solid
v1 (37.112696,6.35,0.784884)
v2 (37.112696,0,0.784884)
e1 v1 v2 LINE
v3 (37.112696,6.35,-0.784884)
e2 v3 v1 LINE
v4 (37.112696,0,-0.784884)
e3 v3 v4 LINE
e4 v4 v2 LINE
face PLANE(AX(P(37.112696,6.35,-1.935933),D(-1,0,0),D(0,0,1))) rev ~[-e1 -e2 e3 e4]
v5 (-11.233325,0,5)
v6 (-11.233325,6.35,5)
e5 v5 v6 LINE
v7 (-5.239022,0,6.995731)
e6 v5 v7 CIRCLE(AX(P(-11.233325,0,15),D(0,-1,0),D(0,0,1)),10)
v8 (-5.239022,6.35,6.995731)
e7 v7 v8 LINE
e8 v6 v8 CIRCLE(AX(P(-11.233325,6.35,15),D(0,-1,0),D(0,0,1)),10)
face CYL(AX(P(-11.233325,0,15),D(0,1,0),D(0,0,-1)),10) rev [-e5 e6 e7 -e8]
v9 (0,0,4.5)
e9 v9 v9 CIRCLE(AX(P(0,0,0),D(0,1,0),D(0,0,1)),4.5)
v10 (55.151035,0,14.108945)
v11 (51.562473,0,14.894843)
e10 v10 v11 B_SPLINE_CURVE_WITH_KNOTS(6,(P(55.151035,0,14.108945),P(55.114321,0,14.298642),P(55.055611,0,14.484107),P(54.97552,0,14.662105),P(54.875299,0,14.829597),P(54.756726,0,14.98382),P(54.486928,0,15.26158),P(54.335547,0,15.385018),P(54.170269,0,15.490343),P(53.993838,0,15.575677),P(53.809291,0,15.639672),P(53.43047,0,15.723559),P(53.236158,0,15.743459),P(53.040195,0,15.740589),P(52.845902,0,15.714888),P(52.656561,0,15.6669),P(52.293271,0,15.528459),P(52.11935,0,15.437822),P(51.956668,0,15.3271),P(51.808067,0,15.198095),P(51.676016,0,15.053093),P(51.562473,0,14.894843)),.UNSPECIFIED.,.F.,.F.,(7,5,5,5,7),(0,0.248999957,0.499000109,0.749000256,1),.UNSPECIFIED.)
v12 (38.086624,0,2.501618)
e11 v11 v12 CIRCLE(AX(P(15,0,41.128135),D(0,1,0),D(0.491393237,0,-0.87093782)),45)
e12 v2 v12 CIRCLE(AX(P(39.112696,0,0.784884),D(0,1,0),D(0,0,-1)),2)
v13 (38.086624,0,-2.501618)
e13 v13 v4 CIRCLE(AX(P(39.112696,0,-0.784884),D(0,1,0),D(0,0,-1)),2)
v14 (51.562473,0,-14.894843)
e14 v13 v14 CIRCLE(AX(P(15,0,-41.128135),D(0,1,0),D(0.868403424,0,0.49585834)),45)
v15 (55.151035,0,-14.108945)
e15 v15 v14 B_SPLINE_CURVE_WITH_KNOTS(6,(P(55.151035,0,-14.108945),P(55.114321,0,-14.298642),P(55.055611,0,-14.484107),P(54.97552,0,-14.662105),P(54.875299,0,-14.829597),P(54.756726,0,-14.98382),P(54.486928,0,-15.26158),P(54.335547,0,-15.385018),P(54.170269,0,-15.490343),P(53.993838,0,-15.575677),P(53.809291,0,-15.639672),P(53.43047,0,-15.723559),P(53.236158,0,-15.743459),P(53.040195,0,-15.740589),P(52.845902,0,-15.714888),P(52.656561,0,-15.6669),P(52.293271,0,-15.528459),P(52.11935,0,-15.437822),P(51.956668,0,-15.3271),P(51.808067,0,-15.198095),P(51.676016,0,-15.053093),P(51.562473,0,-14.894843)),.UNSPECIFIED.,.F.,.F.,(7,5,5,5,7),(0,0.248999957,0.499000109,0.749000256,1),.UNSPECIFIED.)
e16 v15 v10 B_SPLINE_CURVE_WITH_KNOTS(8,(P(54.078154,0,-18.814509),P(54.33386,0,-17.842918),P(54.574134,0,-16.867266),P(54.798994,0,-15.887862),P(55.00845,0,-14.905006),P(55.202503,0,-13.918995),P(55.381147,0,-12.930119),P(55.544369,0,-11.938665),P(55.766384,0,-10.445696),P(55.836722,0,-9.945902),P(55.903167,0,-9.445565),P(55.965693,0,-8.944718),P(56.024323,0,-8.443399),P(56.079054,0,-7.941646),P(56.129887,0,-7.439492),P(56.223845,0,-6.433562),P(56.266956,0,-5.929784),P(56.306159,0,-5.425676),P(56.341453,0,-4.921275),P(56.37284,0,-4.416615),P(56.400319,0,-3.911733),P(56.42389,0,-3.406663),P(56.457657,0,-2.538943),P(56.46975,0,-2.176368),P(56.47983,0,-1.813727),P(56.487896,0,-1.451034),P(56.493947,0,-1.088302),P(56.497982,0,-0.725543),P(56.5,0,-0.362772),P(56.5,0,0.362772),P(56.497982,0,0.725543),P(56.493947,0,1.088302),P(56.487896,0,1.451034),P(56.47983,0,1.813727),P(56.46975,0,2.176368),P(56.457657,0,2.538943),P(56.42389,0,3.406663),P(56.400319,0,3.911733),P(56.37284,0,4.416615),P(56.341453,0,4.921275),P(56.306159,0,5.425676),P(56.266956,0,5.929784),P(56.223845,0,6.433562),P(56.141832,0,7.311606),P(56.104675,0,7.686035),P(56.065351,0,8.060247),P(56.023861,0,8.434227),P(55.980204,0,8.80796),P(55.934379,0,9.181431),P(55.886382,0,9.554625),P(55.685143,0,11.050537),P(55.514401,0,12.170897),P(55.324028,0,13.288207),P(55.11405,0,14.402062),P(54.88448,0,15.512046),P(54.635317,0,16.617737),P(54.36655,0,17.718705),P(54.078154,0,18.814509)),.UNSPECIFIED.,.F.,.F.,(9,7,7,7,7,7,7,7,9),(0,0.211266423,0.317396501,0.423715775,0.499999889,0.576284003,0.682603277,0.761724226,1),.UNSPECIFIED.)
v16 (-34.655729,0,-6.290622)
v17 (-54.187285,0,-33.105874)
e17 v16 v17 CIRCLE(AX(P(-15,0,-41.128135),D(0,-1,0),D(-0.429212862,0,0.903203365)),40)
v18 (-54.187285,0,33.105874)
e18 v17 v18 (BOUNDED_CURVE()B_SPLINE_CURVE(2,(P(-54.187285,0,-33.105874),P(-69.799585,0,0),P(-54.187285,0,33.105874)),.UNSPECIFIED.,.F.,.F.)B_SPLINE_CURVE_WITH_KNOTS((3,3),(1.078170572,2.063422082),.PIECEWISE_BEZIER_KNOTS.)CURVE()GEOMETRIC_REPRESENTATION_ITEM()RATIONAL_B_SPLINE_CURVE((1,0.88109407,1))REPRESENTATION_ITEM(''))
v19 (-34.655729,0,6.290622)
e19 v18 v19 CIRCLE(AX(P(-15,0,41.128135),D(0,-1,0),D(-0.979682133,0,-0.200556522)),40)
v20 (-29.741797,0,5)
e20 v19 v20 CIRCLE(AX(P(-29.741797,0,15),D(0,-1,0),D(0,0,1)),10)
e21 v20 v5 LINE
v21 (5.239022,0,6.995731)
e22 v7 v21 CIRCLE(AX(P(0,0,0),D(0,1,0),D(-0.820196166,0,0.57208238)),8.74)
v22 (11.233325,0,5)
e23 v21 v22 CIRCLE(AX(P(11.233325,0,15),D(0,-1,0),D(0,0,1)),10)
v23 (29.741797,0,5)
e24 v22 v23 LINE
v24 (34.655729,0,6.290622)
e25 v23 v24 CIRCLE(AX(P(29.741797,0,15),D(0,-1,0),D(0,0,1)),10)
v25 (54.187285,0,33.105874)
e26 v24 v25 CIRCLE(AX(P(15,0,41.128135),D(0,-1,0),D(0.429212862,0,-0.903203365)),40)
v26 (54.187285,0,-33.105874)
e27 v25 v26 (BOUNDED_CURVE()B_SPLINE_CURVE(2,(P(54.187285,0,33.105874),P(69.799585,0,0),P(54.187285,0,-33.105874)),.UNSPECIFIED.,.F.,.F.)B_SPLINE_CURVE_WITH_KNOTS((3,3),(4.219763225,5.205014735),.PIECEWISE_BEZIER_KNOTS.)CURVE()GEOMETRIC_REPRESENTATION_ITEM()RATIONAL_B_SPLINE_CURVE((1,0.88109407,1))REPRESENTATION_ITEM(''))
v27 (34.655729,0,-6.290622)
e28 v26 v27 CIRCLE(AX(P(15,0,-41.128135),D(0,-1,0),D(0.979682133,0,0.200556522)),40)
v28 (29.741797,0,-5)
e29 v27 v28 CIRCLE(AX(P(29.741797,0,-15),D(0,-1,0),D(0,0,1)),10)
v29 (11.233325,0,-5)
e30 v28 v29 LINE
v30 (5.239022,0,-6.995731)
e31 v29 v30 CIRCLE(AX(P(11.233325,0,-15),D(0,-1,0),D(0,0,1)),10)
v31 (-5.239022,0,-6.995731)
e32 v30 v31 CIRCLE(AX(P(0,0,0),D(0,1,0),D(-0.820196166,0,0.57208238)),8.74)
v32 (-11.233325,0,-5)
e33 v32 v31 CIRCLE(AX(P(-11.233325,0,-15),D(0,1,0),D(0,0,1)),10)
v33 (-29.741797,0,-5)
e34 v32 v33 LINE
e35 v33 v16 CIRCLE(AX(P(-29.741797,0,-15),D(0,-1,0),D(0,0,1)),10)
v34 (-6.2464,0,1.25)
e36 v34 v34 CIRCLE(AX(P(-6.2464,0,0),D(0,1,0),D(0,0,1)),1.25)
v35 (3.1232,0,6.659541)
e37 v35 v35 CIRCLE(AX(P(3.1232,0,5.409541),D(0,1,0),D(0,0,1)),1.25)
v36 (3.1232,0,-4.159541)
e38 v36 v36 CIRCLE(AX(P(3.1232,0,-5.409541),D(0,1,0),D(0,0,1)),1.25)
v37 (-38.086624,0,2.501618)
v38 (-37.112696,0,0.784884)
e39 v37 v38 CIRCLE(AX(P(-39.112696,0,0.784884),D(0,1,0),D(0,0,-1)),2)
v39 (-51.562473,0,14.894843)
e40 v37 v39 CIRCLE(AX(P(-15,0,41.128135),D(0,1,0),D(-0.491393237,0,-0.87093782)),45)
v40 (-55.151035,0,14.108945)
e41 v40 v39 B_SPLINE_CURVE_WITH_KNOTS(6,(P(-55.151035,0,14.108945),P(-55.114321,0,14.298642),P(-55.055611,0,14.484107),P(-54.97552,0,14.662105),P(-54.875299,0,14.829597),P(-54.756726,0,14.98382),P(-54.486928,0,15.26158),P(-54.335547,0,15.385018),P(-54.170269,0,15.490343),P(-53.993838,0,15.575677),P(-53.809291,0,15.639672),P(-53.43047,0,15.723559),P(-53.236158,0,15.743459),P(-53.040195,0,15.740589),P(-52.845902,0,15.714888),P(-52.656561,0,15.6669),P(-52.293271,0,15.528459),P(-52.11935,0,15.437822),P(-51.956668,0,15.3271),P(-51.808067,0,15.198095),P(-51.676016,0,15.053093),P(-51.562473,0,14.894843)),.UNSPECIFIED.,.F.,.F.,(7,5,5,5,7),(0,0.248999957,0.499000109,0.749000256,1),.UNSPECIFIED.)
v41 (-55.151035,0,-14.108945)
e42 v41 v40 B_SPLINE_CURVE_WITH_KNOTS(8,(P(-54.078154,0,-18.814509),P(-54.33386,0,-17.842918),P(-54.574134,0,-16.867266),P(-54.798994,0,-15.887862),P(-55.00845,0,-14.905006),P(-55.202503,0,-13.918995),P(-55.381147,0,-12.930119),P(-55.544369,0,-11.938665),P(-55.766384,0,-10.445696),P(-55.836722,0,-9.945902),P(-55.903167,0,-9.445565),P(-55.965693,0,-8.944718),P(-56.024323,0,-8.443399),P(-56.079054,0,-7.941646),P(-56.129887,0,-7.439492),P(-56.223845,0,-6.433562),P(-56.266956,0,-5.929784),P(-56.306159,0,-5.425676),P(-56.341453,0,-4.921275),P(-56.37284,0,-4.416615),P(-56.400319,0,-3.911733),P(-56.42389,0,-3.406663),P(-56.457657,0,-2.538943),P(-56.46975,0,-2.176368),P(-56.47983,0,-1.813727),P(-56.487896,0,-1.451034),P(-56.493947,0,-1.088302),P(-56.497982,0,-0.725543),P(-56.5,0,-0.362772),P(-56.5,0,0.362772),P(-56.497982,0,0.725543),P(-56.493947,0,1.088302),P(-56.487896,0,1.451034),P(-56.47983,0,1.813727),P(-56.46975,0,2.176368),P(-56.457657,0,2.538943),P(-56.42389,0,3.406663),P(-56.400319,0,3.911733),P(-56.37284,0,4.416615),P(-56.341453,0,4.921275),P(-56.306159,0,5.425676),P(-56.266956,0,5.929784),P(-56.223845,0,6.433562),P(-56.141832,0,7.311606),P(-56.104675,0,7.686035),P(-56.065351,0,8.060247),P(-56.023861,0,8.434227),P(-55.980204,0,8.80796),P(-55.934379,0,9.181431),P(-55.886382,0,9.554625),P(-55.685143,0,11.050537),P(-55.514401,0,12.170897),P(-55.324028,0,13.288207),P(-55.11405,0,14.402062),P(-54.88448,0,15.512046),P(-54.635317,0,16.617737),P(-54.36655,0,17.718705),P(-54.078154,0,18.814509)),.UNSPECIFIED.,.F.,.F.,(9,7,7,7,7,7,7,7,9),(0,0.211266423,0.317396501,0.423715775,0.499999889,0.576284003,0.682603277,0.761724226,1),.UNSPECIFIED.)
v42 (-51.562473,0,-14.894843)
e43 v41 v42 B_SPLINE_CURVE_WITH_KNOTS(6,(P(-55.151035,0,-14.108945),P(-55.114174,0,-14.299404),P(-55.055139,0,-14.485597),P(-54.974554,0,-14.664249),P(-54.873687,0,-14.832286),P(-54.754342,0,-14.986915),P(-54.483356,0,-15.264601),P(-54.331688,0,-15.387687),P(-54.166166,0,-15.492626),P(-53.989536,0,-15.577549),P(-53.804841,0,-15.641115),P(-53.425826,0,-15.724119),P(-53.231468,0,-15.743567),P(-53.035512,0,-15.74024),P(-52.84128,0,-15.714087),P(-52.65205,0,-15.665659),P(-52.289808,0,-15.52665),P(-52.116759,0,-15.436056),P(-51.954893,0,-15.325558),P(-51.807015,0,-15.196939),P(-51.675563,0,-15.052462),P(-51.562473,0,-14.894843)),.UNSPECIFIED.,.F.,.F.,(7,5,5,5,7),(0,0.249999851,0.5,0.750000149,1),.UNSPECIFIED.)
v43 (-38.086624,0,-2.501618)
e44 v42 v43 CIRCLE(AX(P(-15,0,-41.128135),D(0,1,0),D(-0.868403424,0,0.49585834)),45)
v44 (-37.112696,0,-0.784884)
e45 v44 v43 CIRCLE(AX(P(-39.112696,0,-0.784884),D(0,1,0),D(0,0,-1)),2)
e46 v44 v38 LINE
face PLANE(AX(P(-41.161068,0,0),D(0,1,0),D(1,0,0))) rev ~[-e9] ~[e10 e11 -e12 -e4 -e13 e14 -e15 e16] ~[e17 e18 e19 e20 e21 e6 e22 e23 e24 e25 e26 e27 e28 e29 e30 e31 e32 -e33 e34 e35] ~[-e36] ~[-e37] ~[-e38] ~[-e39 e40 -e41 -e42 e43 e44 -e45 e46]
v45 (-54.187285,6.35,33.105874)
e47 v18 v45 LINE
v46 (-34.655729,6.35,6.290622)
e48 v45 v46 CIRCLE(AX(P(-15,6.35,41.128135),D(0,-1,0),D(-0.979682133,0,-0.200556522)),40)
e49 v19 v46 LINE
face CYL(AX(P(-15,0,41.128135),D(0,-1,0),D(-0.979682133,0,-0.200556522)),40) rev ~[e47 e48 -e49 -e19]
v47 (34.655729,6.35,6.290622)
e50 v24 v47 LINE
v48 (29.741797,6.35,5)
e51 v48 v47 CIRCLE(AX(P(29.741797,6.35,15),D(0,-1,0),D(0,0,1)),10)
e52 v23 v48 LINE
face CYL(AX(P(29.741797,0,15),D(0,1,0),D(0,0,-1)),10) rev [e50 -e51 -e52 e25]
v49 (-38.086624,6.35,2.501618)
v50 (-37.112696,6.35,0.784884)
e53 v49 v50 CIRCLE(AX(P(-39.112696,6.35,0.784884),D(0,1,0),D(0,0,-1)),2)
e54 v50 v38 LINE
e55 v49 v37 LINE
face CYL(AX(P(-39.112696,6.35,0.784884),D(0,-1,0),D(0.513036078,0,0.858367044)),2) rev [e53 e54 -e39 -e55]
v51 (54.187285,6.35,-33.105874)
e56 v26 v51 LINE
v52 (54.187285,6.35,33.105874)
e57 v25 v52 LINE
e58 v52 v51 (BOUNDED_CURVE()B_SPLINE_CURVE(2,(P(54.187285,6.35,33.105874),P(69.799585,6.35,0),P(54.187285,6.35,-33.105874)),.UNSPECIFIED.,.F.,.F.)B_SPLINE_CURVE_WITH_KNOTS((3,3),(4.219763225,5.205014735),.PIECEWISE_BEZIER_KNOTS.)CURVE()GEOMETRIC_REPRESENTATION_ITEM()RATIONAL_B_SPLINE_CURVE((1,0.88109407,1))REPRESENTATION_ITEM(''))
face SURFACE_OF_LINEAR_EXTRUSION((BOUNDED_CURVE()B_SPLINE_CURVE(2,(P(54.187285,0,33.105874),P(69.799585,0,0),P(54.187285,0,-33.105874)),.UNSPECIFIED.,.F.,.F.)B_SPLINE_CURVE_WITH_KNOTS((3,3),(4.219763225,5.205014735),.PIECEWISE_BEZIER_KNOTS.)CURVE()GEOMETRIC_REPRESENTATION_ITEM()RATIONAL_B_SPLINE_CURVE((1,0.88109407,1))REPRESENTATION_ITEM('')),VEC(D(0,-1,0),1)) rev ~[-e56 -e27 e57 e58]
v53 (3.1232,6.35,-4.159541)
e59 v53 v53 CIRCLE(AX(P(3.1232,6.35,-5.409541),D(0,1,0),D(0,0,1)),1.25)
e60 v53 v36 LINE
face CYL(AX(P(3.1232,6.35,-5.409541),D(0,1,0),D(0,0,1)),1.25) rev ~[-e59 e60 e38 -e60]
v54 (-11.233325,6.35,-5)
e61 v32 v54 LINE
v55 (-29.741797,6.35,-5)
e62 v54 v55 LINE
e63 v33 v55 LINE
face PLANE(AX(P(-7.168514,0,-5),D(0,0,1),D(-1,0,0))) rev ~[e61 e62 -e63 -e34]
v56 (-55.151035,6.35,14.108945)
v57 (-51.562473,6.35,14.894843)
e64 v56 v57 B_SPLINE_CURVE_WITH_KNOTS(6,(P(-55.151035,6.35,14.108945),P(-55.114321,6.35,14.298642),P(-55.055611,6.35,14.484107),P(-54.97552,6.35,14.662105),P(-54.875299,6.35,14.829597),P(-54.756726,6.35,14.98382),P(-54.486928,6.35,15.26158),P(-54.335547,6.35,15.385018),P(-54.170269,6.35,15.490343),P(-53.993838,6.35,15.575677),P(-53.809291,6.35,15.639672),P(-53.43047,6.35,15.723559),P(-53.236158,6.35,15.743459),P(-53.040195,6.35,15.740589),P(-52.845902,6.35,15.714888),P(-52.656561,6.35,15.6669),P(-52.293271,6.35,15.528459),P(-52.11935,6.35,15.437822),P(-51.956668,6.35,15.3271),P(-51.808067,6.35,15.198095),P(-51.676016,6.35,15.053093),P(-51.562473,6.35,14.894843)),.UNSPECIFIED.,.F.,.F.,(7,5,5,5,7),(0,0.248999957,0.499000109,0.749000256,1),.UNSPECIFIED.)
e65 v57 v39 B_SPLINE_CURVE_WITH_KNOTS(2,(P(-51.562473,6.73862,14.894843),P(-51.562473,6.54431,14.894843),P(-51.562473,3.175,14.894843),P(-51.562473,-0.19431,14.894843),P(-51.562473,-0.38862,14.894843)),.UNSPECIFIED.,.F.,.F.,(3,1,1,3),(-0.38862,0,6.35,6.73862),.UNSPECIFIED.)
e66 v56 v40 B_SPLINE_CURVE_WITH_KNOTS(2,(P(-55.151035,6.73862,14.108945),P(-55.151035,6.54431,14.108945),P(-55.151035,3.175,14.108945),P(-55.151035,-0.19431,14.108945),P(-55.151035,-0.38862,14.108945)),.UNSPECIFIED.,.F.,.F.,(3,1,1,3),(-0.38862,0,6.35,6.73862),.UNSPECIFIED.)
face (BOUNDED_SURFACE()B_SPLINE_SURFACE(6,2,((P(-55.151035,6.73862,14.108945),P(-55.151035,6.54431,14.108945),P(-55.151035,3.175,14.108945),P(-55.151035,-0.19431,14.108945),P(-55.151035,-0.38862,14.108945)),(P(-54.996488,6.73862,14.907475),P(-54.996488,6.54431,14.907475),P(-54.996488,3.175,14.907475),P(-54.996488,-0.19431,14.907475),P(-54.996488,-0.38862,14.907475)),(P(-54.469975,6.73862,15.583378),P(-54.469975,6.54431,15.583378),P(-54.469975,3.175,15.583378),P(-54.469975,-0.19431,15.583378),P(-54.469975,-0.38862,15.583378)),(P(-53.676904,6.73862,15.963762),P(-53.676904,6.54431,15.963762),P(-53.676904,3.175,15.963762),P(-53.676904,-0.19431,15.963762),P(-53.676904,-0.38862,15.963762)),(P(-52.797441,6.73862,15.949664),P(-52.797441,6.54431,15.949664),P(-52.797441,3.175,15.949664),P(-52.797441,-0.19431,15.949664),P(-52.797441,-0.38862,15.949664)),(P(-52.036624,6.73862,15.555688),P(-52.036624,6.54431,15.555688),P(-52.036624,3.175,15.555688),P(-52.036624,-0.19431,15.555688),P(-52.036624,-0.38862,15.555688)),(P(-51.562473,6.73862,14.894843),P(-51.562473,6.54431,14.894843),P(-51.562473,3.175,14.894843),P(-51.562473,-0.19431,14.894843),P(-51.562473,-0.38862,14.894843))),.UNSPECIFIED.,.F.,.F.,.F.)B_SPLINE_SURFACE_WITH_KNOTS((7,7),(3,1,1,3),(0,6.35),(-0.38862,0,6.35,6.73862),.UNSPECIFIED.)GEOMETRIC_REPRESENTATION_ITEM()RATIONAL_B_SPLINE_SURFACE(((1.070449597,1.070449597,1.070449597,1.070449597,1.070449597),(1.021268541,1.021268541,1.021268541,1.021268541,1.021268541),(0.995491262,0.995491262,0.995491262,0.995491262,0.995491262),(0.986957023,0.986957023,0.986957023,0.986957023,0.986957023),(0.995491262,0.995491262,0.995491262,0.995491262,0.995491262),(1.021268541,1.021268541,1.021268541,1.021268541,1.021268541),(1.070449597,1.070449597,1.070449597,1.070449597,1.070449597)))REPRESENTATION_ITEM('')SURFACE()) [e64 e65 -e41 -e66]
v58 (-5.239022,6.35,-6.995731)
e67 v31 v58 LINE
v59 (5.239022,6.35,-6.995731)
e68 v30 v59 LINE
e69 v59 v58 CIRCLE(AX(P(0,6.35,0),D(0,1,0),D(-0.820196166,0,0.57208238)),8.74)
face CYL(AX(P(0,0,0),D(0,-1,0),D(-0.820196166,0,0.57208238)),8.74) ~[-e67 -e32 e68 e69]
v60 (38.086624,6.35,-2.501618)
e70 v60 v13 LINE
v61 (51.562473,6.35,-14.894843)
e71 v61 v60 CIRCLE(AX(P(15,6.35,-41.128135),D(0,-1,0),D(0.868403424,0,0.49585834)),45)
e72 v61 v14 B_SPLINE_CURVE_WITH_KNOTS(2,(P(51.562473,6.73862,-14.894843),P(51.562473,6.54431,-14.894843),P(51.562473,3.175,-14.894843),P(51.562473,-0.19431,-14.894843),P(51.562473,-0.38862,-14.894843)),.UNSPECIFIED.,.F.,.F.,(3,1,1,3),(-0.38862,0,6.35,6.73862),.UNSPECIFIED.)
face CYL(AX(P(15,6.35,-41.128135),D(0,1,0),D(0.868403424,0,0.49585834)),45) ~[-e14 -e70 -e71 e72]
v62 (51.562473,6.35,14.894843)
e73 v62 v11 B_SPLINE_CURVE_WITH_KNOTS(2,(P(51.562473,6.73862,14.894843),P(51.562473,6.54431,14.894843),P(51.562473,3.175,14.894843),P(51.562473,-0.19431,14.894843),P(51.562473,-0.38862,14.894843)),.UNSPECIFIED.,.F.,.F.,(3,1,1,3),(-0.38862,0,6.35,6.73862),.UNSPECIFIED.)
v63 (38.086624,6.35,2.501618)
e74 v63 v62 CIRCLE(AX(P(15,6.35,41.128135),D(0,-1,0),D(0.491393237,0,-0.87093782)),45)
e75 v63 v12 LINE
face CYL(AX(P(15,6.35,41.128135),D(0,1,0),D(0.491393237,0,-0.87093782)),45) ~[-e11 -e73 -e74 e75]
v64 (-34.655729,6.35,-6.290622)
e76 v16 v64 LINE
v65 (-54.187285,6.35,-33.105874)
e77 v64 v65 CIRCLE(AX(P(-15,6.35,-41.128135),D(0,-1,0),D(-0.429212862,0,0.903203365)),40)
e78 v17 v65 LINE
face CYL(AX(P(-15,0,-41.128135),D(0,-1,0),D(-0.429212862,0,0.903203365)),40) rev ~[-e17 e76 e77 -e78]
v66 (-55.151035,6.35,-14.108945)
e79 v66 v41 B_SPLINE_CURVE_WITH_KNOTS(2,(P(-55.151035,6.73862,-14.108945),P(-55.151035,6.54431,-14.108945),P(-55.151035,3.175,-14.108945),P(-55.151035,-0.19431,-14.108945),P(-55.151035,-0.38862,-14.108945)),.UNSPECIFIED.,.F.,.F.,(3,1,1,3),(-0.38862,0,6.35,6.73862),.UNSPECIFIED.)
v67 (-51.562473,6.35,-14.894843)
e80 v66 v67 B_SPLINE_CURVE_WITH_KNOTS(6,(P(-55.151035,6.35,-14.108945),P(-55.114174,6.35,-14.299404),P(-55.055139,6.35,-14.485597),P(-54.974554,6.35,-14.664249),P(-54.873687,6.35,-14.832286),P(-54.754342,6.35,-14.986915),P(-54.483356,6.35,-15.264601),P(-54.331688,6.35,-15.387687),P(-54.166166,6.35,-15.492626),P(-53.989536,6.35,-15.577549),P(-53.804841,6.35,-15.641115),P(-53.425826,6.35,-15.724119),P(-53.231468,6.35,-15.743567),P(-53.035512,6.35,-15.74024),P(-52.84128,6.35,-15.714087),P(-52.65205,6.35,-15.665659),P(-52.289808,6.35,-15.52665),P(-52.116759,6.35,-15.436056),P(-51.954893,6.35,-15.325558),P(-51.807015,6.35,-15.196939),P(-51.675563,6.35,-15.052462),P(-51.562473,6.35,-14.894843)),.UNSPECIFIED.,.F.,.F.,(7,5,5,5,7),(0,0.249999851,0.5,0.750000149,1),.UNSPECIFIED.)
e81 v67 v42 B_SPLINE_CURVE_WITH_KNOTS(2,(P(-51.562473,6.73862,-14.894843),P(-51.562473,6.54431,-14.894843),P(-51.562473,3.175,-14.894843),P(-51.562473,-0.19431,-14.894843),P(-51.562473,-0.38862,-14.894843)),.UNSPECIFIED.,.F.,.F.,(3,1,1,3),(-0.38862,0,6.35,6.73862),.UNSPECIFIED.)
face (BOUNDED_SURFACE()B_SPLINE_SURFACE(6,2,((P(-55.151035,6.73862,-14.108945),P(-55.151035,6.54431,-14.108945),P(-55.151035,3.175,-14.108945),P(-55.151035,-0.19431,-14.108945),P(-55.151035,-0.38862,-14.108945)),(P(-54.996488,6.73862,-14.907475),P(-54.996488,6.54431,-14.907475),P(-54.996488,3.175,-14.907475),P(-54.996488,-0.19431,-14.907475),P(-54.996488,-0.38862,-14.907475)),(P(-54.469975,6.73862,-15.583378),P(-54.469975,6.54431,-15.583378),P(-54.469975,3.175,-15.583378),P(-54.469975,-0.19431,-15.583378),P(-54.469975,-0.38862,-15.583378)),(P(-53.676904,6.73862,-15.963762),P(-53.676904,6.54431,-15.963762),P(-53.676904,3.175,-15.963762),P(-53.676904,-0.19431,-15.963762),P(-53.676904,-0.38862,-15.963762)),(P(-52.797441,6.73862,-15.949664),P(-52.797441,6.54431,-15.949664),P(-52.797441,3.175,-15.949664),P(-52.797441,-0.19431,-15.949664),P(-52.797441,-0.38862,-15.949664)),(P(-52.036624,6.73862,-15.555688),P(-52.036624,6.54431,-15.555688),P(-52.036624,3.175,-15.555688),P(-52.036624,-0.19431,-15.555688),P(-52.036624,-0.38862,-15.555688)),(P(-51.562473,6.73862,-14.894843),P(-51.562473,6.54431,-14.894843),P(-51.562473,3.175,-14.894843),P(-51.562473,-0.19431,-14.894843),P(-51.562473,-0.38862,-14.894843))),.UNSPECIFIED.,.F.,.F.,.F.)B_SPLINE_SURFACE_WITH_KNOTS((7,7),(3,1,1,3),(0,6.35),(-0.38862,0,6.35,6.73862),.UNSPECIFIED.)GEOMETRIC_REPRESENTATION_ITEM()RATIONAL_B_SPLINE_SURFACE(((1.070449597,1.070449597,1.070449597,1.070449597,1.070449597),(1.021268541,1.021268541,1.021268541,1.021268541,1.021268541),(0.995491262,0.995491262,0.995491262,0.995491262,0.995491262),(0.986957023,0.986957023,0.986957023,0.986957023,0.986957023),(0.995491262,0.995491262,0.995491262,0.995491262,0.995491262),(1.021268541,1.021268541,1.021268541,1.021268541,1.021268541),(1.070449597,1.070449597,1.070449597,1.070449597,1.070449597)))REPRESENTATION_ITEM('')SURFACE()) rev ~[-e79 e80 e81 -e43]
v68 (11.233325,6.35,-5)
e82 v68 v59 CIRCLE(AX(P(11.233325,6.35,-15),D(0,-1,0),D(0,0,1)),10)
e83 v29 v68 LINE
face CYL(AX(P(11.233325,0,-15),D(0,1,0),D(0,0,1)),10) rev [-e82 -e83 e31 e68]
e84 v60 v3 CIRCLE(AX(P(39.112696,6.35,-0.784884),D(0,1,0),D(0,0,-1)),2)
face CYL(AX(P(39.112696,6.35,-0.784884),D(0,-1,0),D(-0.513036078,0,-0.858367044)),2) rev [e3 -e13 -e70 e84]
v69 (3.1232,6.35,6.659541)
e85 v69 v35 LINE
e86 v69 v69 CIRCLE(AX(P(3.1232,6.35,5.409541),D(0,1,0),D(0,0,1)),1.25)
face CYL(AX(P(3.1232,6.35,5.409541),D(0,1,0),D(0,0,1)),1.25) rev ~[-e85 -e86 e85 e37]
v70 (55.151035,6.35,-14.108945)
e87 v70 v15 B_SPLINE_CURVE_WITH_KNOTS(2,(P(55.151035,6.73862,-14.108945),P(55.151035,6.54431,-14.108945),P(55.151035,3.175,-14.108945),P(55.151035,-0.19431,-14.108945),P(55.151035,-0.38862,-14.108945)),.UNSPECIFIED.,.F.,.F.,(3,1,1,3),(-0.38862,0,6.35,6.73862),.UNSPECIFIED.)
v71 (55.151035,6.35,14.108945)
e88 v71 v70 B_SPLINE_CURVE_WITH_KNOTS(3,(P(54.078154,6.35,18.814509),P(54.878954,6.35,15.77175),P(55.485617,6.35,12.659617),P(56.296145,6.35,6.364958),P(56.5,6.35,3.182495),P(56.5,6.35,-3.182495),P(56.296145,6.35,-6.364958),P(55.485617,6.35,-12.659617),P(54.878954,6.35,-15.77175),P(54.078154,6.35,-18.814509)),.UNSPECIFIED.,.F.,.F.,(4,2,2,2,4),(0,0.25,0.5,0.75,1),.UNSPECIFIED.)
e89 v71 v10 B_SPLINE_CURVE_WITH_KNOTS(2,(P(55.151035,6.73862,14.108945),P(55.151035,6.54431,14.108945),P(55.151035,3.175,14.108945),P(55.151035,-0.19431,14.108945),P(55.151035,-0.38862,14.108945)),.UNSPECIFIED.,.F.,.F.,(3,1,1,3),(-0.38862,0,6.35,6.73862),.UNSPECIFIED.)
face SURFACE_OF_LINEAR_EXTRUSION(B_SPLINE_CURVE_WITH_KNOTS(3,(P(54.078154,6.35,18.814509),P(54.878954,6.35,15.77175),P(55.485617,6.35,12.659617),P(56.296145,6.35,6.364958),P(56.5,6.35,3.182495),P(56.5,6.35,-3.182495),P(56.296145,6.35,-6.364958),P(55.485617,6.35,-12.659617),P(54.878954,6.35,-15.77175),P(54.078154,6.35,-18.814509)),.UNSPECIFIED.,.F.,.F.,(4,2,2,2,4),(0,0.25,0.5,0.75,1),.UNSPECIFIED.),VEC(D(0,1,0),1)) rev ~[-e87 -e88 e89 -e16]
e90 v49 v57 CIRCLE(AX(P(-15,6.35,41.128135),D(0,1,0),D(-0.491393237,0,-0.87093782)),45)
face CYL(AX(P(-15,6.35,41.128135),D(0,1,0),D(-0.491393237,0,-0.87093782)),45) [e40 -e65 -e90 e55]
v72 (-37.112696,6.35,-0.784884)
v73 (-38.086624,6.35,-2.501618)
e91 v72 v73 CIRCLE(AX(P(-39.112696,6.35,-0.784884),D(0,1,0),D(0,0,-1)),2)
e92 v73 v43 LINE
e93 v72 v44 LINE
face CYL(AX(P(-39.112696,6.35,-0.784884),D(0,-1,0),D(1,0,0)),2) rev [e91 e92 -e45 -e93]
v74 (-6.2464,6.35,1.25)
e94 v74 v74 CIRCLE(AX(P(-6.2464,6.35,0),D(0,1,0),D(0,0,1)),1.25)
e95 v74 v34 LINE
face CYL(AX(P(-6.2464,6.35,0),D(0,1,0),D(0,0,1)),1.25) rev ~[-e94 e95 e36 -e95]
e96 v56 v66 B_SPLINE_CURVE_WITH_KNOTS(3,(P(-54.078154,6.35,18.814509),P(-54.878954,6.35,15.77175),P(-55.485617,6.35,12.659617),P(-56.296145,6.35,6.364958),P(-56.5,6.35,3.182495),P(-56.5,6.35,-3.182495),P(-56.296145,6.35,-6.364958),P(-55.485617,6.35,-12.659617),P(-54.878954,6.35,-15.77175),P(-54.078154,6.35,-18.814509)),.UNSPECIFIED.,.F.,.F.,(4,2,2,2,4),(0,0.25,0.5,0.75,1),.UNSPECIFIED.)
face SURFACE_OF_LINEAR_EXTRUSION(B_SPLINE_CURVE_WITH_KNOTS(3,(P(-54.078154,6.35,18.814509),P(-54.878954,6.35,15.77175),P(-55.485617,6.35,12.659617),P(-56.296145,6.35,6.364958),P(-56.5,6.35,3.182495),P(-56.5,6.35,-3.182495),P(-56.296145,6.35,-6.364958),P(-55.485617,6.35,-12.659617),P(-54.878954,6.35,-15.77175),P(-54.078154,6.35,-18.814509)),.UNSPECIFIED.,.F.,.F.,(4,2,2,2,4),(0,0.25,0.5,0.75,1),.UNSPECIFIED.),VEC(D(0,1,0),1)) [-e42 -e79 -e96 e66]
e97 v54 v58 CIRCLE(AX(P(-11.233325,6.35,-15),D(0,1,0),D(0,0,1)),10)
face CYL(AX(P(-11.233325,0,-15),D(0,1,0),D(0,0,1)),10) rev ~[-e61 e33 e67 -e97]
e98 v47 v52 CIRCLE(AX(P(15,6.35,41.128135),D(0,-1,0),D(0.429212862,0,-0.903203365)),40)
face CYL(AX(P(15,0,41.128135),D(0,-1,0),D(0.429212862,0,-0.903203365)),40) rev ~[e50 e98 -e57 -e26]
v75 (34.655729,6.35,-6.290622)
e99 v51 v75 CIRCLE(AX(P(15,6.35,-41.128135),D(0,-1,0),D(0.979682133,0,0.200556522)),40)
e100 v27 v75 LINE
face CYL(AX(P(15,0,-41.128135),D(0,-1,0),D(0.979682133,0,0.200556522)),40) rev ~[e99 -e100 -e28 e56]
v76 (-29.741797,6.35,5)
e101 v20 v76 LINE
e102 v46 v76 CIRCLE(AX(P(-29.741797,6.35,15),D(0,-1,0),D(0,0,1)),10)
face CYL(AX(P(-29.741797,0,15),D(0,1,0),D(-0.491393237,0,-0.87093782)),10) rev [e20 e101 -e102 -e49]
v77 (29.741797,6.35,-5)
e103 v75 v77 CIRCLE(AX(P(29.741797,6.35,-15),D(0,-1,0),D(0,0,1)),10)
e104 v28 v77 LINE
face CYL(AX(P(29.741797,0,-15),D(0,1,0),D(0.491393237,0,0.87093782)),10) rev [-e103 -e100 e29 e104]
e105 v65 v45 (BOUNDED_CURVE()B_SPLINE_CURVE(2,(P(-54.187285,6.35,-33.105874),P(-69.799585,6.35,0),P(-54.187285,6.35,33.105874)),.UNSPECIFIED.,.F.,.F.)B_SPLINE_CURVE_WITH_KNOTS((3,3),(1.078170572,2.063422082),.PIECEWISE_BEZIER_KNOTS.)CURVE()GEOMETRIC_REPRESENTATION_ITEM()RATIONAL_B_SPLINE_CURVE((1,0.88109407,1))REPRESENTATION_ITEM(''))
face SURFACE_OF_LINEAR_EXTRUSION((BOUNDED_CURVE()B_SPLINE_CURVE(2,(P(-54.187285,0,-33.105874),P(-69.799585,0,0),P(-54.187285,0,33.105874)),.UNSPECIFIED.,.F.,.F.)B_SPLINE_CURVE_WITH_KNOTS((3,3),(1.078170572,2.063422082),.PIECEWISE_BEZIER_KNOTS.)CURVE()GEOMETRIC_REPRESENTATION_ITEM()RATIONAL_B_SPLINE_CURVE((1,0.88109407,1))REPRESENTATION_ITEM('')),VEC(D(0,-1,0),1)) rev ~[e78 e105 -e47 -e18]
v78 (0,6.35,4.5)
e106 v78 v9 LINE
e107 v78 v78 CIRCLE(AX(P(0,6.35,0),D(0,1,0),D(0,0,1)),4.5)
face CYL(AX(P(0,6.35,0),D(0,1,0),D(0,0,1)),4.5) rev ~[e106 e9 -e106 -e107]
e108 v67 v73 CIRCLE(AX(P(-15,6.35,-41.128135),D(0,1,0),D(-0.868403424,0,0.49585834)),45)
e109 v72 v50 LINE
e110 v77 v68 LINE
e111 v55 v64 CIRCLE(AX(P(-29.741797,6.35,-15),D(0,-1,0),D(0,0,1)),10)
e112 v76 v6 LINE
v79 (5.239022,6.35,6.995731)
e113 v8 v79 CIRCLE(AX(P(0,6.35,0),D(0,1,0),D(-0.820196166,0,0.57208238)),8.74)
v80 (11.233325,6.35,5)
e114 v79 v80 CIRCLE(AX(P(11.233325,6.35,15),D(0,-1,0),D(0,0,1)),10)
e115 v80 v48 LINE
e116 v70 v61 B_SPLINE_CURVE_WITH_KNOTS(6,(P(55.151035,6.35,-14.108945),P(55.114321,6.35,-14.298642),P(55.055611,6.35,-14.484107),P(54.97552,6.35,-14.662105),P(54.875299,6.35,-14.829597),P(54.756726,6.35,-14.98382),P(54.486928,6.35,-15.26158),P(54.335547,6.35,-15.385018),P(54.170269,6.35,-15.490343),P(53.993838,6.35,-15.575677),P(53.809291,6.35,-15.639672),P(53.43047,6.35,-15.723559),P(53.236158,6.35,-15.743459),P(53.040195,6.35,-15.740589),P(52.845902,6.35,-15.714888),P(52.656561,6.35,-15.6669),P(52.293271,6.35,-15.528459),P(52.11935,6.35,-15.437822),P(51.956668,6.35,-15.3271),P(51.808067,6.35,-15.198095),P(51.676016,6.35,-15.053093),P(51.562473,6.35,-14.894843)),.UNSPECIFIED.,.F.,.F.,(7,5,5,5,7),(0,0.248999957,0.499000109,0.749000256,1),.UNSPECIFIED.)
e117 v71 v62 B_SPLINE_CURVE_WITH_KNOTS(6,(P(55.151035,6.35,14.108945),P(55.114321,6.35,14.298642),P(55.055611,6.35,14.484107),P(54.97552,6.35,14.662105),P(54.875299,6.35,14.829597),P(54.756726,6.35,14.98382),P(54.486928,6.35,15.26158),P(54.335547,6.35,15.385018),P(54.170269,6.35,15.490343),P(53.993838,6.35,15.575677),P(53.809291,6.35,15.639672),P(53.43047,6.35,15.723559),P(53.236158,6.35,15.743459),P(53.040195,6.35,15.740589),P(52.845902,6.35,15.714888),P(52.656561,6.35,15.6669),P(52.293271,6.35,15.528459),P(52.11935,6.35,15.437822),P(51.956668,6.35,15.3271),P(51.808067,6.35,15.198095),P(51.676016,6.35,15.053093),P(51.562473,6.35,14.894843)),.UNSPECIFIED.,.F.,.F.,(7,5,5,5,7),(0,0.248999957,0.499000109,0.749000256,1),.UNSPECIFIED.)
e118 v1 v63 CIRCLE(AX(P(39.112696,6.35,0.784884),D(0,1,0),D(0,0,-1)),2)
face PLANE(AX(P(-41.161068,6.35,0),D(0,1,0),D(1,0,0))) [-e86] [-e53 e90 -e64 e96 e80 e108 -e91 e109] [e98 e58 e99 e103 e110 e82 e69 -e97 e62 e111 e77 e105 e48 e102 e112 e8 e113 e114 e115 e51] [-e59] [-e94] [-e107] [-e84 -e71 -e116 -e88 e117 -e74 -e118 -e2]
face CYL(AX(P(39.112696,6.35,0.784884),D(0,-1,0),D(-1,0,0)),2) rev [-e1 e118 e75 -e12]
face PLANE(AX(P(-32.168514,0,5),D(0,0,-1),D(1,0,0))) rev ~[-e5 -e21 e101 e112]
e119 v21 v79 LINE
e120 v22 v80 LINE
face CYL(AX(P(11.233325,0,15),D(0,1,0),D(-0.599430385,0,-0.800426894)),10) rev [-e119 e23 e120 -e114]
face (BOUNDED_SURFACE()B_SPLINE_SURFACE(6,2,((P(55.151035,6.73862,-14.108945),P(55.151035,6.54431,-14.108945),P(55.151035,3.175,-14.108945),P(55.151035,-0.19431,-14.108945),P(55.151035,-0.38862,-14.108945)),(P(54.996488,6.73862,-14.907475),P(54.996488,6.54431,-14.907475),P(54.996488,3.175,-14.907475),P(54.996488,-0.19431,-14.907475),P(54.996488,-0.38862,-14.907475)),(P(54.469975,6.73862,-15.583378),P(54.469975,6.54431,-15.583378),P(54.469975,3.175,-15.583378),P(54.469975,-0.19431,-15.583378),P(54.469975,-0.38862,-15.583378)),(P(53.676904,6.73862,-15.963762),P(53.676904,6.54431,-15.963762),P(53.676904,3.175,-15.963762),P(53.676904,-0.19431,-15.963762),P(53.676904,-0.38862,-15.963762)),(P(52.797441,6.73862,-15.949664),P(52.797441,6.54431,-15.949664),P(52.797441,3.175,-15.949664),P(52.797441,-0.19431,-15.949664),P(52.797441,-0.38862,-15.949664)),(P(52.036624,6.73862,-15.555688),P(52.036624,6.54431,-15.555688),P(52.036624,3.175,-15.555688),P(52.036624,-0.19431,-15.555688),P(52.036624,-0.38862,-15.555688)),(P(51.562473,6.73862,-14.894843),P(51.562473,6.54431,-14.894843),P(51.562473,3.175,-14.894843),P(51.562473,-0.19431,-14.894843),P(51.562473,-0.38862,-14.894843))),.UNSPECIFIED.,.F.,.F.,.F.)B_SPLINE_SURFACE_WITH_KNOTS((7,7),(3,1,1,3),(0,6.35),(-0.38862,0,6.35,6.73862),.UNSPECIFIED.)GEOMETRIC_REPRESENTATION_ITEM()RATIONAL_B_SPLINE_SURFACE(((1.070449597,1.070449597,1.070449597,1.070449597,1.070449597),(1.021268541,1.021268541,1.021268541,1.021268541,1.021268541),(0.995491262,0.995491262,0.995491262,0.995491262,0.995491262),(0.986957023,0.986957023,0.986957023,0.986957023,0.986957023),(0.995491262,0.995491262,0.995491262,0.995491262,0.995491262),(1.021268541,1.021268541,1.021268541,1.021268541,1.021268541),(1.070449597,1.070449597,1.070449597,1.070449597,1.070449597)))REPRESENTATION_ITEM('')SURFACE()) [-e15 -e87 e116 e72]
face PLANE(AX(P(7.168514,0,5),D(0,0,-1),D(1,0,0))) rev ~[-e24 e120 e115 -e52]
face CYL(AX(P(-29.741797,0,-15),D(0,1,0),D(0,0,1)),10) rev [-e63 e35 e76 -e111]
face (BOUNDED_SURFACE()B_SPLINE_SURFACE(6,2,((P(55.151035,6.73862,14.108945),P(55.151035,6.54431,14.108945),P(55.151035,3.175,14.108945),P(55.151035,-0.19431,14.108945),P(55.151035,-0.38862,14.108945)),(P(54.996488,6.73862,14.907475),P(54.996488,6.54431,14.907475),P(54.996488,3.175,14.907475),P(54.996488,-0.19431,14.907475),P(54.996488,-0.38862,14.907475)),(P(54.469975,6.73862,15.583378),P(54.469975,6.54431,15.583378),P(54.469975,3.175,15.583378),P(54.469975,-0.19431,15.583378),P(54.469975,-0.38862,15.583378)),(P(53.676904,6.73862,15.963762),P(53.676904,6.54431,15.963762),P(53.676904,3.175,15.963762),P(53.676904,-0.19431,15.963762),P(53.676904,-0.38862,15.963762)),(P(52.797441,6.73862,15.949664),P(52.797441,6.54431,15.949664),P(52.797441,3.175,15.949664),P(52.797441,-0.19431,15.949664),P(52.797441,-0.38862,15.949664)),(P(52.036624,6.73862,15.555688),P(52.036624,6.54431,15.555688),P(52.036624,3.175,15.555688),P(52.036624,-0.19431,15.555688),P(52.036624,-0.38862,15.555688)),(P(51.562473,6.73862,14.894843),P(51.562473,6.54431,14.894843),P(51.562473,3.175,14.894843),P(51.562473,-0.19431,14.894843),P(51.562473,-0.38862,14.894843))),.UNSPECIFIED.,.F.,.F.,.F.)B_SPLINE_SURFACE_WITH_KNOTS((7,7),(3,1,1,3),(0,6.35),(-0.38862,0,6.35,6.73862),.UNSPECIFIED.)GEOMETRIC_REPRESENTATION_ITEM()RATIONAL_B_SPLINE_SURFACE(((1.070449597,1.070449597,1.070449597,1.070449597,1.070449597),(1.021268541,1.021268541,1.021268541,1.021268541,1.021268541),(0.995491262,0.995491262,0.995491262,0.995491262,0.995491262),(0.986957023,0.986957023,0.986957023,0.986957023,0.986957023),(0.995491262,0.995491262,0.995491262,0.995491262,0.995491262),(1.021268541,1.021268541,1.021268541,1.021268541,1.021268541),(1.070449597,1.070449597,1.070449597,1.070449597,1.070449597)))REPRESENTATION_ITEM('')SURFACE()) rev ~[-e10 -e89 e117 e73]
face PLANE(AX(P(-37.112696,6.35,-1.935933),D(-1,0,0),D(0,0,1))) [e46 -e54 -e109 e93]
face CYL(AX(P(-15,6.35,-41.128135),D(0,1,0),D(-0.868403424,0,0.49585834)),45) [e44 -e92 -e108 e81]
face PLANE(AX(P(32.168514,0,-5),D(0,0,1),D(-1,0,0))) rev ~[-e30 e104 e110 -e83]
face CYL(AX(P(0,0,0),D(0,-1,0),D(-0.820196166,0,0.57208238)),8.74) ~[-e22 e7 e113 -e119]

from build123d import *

# Parameters (mm, degrees)
SKETCH1_R           = 8.74
BOSS_EXTRUDE2_DEPTH = 6.35
FILLET1_R           = 10
SKETCH2_R           = 4.5
CUT_EXTRUDE1_DEPTH  = 71.132527363
SKETCH3_R           = 1.25
CUT_EXTRUDE2_DEPTH  = 71.132527363
CUT_EXTRUDE5_DEPTH  = 71.132527363
FILLET2_R           = 2
FILLET3_R           = 2


with BuildPart() as part:
    # Sketch1 → Boss-Extrude2 (new body)
    with BuildSketch(Plane(origin=(0, 0, 0), x_dir=(1, 0, 0), z_dir=(0, 1, 0))):
        with BuildLine():
            ThreePointArc((-7.16851449, -5), (-8.74, 0), (-7.16851449, 5))
            Line((-7.16851449, 5), (-32.16851449, 5))
            ThreePointArc((-32.16851449, 5), (-46.487760751, 16.45991775), (-54.187285312, 33.10587371))
            add(Edge.make_bspline(
                [(-54.187285312, 33.10587371), (-69.799584501, 0), (-54.187285312, -33.10587371)],
                knots=[1.078170572, 1.078170572, 1.078170572, 2.063422082, 2.063422082, 2.063422082], degree=2, weights=[1, 0.88109407, 1]))
            ThreePointArc((-54.187285312, -33.10587371), (-46.487760751, -16.45991775), (-32.16851449, -5))
            Line((-32.16851449, -5), (-7.16851449, -5))
        make_face()
        Circle(SKETCH1_R)
        with BuildLine():
            Line((32.16851449, 5), (7.16851449, 5))
            ThreePointArc((7.16851449, 5), (8.337877927, 2.620570868), (8.74, 0))
            ThreePointArc((8.74, 0), (8.337877927, -2.620570868), (7.16851449, -5))
            Line((7.16851449, -5), (32.16851449, -5))
            ThreePointArc((32.16851449, -5), (46.487760751, -16.45991775), (54.187285312, -33.10587371))
            add(Edge.make_bspline(
                [(54.187285312, -33.10587371), (69.799584501, 0), (54.187285312, 33.10587371)],
                knots=[4.219763225, 4.219763225, 4.219763225, 5.205014735, 5.205014735, 5.205014735], degree=2, weights=[1, 0.88109407, 1]))
            ThreePointArc((54.187285312, 33.10587371), (46.487760751, 16.45991775), (32.16851449, 5))
        make_face()
    extrude(amount=BOSS_EXTRUDE2_DEPTH)

    # Fillet1
    fillet1_edges = [part.edges().sort_by_distance(p)[0] for p in [
        (-32.16851449, 3.175, -5),
        (-7.16851449, 3.175, -5),
        (7.16851449, 3.175, -5),
        (32.16851449, 3.175, -5),
        (32.16851449, 3.175, 5),
        (7.16851449, 3.175, 5),
        (-7.16851449, 3.175, 5),
        (-32.16851449, 3.175, 5),
    ]]
    fillet(fillet1_edges, radius=FILLET1_R)

    # Sketch2 → Cut-Extrude1 (cut, through all)
    with BuildSketch(Plane(origin=(0, 6.35, 0), x_dir=(1, 0, 0), z_dir=(0, 1, 0))):
        with Locations(Location((0, 0, 0), (0, 0, 270))):
            Circle(SKETCH2_R)
    extrude(amount=-CUT_EXTRUDE1_DEPTH, mode=Mode.SUBTRACT)

    # Sketch3 → Cut-Extrude2 (cut, through all)
    with BuildSketch(Plane(origin=(0, 6.35, 0), x_dir=(1, 0, 0), z_dir=(0, 1, 0))):
        with Locations(Location((-6.2464, 0, 0), (0, 0, 270))):
            Circle(SKETCH3_R)
        with Locations(Location((3.1232, 5.409541082, 0), (0, 0, 270))):
            Circle(SKETCH3_R)
        with Locations(Location((3.1232, -5.409541082, 0), (0, 0, 270))):
            Circle(SKETCH3_R)
    extrude(amount=-CUT_EXTRUDE2_DEPTH, mode=Mode.SUBTRACT)

    # Sketch4 → Cut-Extrude5 (cut, through all)
    with BuildSketch(Plane(origin=(0, 6.35, 0), x_dir=(1, 0, 0), z_dir=(0, 1, 0))):
        with BuildLine():
            add(Edge.make_bspline(
                [(-54.07815408, -18.814509315), (-54.878953653, -15.771750191), (-55.485617126, -12.659616872), (-56.296145207, -6.364958437), (-56.5, -3.182494687), (-56.5, 3.182494687), (-56.296145207, 6.364958437), (-55.485617126, 12.659616872), (-54.878953653, 15.771750191), (-54.07815408, 18.814509315)],
                knots=[0, 0, 0, 0, 0.25, 0.25, 0.5, 0.5, 0.75, 0.75, 1, 1, 1, 1], degree=3))
            ThreePointArc((-54.07815408, 18.814509315), (-46.738015221, 9.226749217), (-37.112695661, 1.935932696))
            Line((-37.112695661, 1.935932696), (-37.112695661, -1.935932696))
            ThreePointArc((-37.112695661, -1.935932696), (-46.738015221, -9.226749217), (-54.07815408, -18.814509315))
        make_face()
        with BuildLine():
            ThreePointArc((37.112695661, -1.935932696), (46.738015221, -9.226749217), (54.07815408, -18.814509315))
            add(Edge.make_bspline(
                [(54.07815408, -18.814509315), (54.878953653, -15.771750191), (55.485617126, -12.659616872), (56.296145207, -6.364958437), (56.5, -3.182494687), (56.5, 3.182494687), (56.296145207, 6.364958437), (55.485617126, 12.659616872), (54.878953653, 15.771750191), (54.07815408, 18.814509315)],
                knots=[0, 0, 0, 0, 0.25, 0.25, 0.5, 0.5, 0.75, 0.75, 1, 1, 1, 1], degree=3))
            ThreePointArc((54.07815408, 18.814509315), (46.738015221, 9.226749217), (37.112695661, 1.935932696))
            Line((37.112695661, 1.935932696), (37.112695661, -1.935932696))
        make_face()
    extrude(amount=-CUT_EXTRUDE5_DEPTH, mode=Mode.SUBTRACT)

    # Fillet2
    fillet2_edges = [part.edges().sort_by_distance(p)[0] for p in [
        (-37.112695661, 3.175, 1.935932696),
        (-37.112695661, 3.175, -1.935932696),
        (-54.07815408, 3.175, 18.814509315),
        (-54.07815408, 3.175, -18.814509315),
    ]]
    fillet(fillet2_edges, radius=FILLET2_R)

    # Fillet3
    fillet3_edges = [part.edges().sort_by_distance(p)[0] for p in [
        (54.07815408, 3.175, 18.814509315),
        (54.07815408, 3.175, -18.814509315),
        (37.112695661, 3.175, -1.935932696),
        (37.112695661, 3.175, 1.935932696),
    ]]
    fillet(fillet3_edges, radius=FILLET3_R)


solid = part.part
